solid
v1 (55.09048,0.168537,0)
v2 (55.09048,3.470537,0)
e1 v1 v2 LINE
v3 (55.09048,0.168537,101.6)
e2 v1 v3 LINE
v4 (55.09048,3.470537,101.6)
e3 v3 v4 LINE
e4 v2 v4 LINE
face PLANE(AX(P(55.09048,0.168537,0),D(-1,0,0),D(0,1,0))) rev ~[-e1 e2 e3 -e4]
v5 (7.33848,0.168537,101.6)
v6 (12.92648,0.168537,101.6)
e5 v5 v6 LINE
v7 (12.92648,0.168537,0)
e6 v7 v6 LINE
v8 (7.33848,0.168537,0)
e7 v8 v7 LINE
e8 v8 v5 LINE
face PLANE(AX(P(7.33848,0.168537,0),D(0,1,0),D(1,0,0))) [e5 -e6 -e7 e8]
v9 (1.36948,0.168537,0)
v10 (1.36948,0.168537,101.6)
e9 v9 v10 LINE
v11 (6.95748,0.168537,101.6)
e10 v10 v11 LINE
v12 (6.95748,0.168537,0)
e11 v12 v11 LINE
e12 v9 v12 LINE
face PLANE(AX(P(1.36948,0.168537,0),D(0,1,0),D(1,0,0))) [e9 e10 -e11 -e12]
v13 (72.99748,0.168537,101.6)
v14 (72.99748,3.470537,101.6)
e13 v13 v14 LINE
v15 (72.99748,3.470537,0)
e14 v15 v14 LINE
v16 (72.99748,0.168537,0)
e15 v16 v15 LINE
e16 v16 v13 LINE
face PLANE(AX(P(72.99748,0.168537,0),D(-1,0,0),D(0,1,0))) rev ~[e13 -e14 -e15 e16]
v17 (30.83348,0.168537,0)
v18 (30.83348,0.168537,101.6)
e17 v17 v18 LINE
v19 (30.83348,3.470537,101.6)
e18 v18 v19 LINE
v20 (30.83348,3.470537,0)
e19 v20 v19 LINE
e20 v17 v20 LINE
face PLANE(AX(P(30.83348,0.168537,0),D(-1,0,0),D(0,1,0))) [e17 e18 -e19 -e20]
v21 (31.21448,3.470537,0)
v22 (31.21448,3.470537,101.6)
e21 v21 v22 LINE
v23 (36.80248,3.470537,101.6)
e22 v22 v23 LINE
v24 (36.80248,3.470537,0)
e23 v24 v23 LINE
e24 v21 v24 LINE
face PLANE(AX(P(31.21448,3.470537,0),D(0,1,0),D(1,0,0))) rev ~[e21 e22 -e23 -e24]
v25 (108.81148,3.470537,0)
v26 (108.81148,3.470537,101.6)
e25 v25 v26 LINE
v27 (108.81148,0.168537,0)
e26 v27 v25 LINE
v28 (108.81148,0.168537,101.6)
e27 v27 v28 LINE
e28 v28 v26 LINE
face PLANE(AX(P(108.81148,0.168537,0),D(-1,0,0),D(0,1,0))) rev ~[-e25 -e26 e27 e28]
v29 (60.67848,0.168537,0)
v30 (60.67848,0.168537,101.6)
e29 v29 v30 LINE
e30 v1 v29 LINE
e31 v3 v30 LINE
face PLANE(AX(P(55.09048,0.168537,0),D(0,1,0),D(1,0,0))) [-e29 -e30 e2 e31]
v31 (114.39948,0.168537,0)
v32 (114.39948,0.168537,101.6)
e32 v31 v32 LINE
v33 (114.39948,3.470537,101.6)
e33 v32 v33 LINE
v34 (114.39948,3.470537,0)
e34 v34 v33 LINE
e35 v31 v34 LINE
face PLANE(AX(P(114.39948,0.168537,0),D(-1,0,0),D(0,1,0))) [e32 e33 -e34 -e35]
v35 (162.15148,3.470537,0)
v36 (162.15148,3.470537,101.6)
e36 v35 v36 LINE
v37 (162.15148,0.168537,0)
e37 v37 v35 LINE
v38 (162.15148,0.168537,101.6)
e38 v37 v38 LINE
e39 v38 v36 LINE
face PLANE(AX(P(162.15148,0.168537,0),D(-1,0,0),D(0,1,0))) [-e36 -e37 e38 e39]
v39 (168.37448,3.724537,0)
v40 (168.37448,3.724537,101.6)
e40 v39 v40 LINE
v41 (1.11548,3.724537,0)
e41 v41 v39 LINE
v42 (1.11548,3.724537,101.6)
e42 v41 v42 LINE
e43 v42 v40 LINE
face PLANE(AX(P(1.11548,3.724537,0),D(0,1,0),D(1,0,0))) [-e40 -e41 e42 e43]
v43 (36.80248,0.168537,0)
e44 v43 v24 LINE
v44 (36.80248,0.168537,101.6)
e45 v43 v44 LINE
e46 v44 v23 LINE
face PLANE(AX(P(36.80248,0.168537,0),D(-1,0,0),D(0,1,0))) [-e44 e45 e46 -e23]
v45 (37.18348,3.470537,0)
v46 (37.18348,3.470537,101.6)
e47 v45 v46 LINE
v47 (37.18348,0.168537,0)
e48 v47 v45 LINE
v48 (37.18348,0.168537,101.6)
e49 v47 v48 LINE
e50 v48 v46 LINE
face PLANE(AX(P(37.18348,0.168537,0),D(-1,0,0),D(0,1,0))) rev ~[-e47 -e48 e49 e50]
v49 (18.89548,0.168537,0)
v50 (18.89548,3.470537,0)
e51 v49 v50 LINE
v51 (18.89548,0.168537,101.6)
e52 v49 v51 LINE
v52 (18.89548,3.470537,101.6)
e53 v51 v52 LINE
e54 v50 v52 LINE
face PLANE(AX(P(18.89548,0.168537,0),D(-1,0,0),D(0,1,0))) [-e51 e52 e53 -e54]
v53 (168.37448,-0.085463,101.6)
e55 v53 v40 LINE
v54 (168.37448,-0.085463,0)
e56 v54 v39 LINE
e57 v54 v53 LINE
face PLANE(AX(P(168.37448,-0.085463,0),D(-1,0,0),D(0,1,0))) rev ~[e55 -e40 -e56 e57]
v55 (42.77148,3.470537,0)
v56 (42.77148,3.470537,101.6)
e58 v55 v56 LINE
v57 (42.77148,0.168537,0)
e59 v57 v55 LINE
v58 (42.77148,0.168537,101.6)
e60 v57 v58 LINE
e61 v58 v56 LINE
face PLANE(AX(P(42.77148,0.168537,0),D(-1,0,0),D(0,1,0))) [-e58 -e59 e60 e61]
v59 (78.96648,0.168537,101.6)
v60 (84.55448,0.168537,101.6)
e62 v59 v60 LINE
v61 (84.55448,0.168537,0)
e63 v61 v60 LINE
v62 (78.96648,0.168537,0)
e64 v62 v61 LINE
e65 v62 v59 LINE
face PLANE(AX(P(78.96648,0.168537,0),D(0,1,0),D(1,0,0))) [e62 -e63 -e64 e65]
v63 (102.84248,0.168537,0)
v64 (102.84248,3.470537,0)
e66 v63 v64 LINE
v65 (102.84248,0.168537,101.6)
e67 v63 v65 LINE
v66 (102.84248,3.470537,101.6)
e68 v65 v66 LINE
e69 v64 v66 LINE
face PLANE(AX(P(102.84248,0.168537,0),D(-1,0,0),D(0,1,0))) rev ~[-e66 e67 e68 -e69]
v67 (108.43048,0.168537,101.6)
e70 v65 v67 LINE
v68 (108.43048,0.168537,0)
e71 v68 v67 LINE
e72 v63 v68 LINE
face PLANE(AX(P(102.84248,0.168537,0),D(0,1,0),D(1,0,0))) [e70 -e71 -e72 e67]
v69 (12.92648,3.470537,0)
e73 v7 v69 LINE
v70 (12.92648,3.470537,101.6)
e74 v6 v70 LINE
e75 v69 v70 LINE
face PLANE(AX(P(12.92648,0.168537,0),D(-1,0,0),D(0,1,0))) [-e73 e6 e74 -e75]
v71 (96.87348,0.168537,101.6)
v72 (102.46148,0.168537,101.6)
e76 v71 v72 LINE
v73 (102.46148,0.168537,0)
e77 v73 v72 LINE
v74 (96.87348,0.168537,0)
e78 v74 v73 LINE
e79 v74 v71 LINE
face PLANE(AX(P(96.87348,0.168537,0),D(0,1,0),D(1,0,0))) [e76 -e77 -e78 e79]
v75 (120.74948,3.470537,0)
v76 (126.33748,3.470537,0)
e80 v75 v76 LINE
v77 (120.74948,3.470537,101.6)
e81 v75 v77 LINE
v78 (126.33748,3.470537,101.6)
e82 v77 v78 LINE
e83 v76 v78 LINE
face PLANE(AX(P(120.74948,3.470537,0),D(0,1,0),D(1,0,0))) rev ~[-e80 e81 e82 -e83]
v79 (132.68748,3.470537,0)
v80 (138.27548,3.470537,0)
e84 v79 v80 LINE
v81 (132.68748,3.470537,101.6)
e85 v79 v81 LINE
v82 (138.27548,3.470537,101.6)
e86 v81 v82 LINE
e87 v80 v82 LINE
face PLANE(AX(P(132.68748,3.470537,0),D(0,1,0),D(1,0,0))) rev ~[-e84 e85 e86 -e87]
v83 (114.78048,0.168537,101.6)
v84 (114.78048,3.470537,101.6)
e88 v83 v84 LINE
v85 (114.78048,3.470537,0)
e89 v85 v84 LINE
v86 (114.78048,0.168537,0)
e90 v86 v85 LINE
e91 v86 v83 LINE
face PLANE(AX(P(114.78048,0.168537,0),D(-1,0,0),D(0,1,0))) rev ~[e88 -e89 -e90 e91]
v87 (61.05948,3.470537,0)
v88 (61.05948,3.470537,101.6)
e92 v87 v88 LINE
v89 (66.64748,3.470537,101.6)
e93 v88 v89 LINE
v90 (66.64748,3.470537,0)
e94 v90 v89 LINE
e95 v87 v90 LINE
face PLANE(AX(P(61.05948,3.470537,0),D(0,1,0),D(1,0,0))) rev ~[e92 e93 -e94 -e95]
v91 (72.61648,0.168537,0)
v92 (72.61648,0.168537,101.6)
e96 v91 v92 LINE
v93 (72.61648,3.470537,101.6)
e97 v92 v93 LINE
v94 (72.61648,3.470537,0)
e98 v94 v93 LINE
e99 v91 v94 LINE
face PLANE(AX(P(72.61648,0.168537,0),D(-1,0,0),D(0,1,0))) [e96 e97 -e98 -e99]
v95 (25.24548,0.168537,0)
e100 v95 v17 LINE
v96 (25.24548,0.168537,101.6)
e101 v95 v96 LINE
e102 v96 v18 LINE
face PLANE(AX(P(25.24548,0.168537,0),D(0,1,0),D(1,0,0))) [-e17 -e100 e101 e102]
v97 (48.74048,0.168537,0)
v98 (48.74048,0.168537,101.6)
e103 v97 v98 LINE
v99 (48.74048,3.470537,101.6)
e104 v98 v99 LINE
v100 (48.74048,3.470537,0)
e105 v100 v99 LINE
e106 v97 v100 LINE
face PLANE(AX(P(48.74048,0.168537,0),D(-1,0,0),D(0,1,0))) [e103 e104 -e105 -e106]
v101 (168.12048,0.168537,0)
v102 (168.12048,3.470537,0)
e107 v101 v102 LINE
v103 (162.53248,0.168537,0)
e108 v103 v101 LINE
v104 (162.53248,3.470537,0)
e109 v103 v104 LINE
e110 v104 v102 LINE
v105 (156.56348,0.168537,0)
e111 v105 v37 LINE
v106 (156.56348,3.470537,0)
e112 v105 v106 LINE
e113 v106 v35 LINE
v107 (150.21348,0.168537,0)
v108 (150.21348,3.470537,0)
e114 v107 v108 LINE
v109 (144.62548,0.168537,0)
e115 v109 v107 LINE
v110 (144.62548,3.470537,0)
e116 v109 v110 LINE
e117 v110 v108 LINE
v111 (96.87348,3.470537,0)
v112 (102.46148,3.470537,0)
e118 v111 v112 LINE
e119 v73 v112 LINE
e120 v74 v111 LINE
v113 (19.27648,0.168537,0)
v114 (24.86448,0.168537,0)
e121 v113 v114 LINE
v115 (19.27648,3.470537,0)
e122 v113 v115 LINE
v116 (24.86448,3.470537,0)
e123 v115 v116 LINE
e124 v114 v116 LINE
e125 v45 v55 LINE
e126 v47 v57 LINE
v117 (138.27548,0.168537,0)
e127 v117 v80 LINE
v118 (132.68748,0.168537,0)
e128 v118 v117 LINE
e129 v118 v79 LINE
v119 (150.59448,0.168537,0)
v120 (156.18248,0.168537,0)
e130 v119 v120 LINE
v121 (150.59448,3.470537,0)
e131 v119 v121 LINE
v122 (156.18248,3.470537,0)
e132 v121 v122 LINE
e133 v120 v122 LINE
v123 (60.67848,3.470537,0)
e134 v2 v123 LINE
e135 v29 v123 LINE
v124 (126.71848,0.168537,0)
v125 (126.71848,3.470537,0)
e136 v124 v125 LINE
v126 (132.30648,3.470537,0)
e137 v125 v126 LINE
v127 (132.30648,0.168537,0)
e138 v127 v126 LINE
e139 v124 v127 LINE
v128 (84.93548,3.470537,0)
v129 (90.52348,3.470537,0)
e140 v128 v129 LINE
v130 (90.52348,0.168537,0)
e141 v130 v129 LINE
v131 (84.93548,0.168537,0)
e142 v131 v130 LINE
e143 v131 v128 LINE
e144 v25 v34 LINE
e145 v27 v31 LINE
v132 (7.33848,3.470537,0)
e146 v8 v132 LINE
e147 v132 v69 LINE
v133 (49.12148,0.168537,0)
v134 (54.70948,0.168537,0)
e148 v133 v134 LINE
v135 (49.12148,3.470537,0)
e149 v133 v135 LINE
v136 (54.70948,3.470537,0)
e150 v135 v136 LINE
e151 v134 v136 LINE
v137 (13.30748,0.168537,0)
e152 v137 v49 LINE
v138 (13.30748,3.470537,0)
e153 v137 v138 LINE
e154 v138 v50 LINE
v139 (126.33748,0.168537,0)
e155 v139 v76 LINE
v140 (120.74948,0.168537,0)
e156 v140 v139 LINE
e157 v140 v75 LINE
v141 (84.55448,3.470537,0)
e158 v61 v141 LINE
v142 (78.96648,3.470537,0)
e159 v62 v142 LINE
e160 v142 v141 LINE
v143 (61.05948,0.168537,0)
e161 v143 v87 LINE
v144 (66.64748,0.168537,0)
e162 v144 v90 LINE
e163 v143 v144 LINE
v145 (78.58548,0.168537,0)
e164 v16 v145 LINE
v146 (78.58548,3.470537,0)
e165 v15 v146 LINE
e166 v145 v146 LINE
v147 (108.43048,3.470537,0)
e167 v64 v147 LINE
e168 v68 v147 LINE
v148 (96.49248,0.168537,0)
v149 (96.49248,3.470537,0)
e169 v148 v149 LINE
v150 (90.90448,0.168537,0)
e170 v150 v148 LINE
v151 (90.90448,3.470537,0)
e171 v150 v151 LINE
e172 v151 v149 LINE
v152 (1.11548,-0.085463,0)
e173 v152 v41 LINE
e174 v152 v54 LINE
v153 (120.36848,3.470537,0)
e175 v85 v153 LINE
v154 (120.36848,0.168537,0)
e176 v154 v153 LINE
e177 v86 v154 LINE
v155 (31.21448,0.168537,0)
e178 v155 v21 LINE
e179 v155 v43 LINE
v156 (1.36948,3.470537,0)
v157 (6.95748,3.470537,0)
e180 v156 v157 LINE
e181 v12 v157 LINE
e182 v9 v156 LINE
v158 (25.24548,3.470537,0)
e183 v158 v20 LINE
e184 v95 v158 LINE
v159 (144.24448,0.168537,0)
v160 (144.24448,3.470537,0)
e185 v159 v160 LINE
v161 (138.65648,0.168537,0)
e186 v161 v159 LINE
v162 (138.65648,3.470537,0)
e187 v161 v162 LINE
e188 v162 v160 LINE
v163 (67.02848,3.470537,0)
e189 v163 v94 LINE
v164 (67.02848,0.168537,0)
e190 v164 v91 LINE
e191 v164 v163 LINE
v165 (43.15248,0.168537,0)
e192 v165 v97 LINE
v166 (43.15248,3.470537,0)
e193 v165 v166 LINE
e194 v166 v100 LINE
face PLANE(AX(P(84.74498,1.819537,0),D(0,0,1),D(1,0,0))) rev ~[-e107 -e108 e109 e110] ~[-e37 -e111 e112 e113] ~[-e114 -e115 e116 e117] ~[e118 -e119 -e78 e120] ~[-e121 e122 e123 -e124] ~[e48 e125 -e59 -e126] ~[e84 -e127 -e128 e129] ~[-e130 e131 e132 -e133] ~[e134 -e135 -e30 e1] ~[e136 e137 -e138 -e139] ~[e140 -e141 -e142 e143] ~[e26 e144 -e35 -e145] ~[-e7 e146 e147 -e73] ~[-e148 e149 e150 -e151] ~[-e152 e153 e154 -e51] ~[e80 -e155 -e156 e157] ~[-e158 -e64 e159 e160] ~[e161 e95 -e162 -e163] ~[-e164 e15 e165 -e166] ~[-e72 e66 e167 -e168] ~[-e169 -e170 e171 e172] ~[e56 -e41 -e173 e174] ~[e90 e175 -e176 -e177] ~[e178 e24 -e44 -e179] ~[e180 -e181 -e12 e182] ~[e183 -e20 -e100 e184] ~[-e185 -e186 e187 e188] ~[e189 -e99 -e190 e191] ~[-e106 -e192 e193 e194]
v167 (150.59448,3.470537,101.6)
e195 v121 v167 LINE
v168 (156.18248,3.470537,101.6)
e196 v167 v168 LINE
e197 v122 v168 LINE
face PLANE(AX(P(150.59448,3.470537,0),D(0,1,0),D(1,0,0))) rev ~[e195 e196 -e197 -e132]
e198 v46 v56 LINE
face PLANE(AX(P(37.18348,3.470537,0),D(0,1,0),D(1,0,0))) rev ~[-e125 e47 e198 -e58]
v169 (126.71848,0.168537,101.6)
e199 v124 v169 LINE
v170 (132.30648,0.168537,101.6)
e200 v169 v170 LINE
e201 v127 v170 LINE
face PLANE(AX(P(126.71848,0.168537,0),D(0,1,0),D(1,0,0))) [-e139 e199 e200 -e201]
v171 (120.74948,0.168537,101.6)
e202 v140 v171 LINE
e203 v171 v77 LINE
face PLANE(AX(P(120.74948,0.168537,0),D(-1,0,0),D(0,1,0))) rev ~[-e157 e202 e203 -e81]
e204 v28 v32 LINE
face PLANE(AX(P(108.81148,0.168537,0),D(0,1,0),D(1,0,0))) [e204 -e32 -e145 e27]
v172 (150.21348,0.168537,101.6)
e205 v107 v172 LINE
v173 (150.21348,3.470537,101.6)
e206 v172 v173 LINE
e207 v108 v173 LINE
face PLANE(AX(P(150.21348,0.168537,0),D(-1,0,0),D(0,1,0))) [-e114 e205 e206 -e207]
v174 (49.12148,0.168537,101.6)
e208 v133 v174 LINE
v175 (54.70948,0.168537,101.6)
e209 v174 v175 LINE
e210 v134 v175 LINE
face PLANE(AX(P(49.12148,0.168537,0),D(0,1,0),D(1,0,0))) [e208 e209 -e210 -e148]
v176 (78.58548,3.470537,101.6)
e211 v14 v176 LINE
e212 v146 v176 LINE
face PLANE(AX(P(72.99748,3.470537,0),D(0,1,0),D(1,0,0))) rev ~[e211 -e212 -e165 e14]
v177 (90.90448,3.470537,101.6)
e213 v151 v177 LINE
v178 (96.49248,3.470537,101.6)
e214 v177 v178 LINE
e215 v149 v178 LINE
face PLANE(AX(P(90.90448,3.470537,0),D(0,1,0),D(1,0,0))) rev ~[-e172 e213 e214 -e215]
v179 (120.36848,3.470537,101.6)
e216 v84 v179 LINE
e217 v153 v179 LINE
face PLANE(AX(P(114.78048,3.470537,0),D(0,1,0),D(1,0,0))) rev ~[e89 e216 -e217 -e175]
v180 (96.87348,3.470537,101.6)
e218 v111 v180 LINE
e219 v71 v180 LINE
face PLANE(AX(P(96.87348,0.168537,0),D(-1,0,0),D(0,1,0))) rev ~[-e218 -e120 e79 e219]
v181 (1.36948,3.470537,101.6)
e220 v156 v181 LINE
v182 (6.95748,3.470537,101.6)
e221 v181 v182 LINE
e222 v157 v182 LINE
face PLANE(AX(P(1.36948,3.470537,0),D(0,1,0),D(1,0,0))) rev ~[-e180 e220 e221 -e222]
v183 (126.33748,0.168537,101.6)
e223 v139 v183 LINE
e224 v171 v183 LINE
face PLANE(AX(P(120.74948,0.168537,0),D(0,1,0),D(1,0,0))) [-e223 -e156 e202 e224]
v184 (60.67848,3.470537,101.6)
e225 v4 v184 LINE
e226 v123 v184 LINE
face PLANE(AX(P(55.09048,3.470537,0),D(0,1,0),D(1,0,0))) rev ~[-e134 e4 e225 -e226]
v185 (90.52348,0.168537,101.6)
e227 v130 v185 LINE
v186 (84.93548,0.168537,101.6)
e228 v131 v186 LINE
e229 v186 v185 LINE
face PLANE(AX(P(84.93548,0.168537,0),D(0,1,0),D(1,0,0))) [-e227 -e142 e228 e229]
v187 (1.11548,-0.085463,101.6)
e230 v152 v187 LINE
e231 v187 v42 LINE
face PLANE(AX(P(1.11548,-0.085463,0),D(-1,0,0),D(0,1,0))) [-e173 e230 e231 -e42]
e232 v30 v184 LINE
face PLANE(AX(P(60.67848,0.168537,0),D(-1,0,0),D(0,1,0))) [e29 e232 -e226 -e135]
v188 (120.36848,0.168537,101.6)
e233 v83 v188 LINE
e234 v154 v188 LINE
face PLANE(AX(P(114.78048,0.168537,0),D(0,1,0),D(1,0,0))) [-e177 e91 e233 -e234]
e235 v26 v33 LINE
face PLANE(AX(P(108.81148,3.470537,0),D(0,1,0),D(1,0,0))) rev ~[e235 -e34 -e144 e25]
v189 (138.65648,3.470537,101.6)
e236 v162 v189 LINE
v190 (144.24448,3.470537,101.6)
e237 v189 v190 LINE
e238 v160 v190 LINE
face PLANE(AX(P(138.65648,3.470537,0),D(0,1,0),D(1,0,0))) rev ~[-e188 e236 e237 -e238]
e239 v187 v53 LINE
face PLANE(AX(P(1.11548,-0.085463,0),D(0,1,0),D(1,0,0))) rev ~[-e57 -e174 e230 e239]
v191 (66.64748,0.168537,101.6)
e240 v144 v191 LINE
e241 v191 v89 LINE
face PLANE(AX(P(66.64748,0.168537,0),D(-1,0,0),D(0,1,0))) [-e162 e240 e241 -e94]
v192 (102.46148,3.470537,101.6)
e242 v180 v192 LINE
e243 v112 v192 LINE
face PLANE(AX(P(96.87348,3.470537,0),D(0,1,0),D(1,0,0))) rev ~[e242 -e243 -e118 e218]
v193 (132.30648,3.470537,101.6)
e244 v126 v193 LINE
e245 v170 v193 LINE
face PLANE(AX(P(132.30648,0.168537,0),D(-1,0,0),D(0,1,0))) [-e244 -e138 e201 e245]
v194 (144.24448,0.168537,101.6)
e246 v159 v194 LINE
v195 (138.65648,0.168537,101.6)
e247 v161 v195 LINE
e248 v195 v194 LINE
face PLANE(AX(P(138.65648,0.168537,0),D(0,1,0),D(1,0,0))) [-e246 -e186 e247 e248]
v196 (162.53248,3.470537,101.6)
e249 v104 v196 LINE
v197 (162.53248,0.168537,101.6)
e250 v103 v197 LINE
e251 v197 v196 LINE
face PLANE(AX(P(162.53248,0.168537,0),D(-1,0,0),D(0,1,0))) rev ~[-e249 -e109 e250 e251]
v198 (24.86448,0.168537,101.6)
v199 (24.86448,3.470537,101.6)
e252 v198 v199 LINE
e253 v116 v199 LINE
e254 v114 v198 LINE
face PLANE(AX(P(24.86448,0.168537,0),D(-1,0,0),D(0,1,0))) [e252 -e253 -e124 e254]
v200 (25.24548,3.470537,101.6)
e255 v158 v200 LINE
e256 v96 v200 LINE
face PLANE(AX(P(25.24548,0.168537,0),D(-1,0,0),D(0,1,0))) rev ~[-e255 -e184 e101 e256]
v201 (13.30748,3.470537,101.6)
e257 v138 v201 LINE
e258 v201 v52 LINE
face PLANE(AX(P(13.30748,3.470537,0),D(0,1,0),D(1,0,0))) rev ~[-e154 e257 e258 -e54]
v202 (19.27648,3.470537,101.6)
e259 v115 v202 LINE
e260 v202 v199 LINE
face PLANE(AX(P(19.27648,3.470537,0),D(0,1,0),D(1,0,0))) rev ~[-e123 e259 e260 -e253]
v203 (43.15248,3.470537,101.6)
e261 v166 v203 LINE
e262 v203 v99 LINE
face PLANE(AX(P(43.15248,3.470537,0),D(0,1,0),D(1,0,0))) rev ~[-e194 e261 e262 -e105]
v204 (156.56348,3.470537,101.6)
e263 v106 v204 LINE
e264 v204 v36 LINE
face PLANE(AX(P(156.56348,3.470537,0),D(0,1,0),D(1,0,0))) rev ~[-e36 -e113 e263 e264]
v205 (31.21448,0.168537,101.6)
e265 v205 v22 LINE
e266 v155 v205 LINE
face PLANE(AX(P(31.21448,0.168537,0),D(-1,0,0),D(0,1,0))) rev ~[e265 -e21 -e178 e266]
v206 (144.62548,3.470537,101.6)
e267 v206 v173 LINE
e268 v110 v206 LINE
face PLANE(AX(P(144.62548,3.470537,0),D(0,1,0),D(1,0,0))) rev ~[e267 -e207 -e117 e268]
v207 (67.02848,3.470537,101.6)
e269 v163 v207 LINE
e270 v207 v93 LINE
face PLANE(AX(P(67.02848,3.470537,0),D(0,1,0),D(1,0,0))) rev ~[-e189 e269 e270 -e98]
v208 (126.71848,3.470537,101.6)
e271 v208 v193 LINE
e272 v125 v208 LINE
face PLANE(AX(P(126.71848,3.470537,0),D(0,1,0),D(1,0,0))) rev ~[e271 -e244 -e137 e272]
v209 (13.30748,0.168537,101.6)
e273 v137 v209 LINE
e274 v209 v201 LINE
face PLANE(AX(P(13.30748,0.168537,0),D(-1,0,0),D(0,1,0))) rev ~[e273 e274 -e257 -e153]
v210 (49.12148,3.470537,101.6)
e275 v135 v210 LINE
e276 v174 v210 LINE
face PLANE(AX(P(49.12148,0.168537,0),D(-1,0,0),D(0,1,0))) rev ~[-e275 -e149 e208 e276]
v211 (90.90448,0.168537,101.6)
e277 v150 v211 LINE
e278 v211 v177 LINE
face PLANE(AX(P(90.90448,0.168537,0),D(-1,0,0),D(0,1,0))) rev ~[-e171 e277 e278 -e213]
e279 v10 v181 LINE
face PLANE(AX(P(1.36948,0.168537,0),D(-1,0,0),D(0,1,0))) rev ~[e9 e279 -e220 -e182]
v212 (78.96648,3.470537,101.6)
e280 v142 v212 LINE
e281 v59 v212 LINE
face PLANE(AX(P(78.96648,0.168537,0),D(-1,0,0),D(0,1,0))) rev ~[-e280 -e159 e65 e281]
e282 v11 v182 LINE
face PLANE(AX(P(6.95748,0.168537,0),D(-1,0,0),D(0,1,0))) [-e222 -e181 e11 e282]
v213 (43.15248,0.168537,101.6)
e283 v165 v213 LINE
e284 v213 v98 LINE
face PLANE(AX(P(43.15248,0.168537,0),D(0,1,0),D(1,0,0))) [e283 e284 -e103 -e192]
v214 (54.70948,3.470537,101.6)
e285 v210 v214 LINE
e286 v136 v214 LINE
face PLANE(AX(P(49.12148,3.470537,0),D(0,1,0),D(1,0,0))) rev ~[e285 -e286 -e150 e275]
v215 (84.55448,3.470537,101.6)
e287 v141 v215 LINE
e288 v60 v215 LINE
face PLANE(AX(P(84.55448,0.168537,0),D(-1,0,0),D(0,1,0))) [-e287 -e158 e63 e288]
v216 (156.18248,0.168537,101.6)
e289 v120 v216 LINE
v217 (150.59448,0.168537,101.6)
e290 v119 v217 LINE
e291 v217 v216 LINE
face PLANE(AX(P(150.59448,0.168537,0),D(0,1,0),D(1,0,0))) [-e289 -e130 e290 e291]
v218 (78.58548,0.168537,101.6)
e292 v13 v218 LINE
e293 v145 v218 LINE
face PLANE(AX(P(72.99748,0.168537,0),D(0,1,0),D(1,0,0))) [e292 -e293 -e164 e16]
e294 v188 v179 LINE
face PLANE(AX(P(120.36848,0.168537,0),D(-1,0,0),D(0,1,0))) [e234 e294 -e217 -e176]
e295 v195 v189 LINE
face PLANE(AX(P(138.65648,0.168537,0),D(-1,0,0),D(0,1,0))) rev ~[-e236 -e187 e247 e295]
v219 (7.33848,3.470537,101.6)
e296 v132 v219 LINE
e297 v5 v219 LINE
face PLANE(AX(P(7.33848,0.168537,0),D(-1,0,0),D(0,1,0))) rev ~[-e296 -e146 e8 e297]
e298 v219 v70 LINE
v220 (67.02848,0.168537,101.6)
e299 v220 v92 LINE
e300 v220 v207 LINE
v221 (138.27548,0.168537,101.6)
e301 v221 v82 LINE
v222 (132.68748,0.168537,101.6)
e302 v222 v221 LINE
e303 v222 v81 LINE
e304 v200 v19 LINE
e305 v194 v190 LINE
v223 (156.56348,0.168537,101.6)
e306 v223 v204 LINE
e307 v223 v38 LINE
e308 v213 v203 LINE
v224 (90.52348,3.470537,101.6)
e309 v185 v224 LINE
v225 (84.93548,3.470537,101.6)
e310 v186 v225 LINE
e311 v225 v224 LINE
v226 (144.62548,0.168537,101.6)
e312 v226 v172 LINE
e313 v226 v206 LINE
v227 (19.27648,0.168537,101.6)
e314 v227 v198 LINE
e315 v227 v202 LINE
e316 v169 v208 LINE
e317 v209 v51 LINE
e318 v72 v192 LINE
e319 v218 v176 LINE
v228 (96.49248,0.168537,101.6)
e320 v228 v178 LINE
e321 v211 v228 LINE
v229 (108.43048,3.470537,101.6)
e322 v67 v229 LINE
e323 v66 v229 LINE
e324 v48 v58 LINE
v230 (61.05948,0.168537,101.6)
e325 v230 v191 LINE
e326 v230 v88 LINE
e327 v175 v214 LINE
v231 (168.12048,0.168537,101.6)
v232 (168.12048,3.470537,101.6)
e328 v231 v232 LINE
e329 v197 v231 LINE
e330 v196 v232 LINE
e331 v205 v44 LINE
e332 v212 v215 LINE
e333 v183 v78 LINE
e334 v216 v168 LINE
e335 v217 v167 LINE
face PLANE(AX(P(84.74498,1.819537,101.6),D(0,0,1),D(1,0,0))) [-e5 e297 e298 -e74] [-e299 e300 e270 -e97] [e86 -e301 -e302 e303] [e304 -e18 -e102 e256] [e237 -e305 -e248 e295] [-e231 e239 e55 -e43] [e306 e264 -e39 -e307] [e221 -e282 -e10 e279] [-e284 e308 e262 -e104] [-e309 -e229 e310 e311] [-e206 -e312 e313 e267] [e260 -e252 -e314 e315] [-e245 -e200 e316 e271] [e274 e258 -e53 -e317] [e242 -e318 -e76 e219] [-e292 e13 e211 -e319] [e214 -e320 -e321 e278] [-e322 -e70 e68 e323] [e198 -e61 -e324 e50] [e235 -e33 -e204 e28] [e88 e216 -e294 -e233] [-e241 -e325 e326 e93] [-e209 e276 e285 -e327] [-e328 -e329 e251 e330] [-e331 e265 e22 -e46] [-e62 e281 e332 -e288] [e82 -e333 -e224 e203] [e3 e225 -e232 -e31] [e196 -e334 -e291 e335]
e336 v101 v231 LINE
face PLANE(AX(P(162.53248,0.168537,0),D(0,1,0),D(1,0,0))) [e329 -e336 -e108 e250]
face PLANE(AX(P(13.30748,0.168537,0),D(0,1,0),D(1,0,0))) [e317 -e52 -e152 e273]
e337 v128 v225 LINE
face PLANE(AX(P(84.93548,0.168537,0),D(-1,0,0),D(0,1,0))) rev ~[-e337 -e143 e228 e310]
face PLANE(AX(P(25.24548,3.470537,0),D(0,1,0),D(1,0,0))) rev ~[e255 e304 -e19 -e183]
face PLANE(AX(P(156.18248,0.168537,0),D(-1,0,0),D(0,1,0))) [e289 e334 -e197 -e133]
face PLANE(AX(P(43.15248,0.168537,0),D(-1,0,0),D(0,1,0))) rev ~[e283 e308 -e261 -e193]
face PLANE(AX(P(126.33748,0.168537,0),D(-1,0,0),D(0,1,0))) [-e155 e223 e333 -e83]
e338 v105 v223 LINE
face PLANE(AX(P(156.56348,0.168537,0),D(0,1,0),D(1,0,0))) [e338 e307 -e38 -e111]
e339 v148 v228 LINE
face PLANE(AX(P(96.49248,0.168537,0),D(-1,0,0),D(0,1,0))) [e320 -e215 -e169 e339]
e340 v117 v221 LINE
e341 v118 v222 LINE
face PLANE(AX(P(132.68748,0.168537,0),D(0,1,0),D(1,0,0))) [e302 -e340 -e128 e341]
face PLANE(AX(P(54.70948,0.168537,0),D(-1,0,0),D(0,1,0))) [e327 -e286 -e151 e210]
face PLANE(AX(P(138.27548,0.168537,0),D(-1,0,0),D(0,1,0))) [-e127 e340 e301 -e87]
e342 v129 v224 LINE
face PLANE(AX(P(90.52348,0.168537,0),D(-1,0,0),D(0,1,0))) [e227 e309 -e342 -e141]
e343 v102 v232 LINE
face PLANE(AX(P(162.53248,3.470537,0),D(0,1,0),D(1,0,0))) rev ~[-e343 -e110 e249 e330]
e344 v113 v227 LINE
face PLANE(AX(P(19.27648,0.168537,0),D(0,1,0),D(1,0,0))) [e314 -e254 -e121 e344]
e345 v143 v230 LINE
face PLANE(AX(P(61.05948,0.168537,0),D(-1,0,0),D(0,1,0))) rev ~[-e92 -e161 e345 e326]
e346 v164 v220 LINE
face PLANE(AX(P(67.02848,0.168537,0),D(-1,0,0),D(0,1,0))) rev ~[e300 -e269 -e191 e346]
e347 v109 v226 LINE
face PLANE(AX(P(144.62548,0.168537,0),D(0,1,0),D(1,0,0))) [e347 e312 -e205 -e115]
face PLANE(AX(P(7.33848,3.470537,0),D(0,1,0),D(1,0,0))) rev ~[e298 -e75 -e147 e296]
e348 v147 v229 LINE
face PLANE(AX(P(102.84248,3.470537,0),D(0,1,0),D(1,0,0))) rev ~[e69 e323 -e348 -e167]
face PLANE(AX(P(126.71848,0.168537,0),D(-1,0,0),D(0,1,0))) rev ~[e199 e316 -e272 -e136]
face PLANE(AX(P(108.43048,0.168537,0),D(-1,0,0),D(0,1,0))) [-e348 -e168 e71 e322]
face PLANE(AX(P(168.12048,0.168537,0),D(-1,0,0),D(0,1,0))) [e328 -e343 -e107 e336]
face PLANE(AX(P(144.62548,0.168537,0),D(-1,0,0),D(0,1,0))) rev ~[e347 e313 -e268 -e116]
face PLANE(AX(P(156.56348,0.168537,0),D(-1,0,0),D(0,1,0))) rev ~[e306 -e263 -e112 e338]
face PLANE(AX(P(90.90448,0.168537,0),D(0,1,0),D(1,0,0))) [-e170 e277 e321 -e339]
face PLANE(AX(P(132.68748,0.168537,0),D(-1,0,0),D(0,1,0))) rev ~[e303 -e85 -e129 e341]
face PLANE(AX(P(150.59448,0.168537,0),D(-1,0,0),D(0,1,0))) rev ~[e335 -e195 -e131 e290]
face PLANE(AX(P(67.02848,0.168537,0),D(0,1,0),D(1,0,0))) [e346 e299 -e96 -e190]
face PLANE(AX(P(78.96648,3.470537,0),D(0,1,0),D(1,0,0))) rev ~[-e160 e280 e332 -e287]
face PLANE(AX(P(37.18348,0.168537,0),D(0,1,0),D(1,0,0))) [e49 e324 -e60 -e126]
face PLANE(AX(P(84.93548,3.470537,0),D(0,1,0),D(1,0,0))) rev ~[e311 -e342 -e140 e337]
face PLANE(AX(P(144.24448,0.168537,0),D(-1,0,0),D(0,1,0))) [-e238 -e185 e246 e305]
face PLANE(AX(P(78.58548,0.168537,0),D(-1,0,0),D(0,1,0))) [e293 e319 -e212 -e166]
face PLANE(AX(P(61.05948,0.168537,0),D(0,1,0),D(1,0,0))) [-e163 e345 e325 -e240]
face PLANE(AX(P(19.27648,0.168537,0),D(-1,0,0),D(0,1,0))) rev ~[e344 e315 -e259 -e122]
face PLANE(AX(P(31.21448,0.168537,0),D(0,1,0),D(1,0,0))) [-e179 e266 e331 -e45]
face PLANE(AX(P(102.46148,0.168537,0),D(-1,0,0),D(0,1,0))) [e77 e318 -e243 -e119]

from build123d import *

# Parameters (mm, degrees)
F0_W     = 167.259
F0_H     = 3.81
F0_W_2   = 5.588
F0_H_2   = 3.302
F1_DEPTH = 101.6


with BuildPart() as f1:
    # F0 (on Top) → F1 (new body)
    with BuildSketch(Plane.XY):
        with Locations((84.74498, 1.819537)):
            Rectangle(F0_W, F0_H)
        with Locations((4.16348, 1.819537)):
            Rectangle(F0_W_2, F0_H_2, mode=Mode.SUBTRACT)
        with Locations((10.13248, 1.819537)):
            Rectangle(F0_W_2, F0_H_2, mode=Mode.SUBTRACT)
        with Locations((16.10148, 1.819537)):
            Rectangle(F0_W_2, F0_H_2, mode=Mode.SUBTRACT)
        with Locations((22.07048, 1.819537)):
            Rectangle(F0_W_2, F0_H_2, mode=Mode.SUBTRACT)
        with Locations((28.03948, 1.819537)):
            Rectangle(F0_W_2, F0_H_2, mode=Mode.SUBTRACT)
        with Locations((34.00848, 1.819537)):
            Rectangle(F0_W_2, F0_H_2, mode=Mode.SUBTRACT)
        with Locations((39.97748, 1.819537)):
            Rectangle(F0_W_2, F0_H_2, mode=Mode.SUBTRACT)
        with Locations((45.94648, 1.819537)):
            Rectangle(F0_W_2, F0_H_2, mode=Mode.SUBTRACT)
        with Locations((51.91548, 1.819537)):
            Rectangle(F0_W_2, F0_H_2, mode=Mode.SUBTRACT)
        with Locations((57.88448, 1.819537)):
            Rectangle(F0_W_2, F0_H_2, mode=Mode.SUBTRACT)
        with Locations((63.85348, 1.819537)):
            Rectangle(F0_W_2, F0_H_2, mode=Mode.SUBTRACT)
        with Locations((69.82248, 1.819537)):
            Rectangle(F0_W_2, F0_H_2, mode=Mode.SUBTRACT)
        with Locations((75.79148, 1.819537)):
            Rectangle(F0_W_2, F0_H_2, mode=Mode.SUBTRACT)
        with Locations((81.76048, 1.819537)):
            Rectangle(F0_W_2, F0_H_2, mode=Mode.SUBTRACT)
        with Locations((87.72948, 1.819537)):
            Rectangle(F0_W_2, F0_H_2, mode=Mode.SUBTRACT)
        with Locations((93.69848, 1.819537)):
            Rectangle(F0_W_2, F0_H_2, mode=Mode.SUBTRACT)
        with Locations((99.66748, 1.819537)):
            Rectangle(F0_W_2, F0_H_2, mode=Mode.SUBTRACT)
        with Locations((105.63648, 1.819537)):
            Rectangle(F0_W_2, F0_H_2, mode=Mode.SUBTRACT)
        with Locations((111.60548, 1.819537)):
            Rectangle(F0_W_2, F0_H_2, mode=Mode.SUBTRACT)
        with Locations((117.57448, 1.819537)):
            Rectangle(F0_W_2, F0_H_2, mode=Mode.SUBTRACT)
        with Locations((123.54348, 1.819537)):
            Rectangle(F0_W_2, F0_H_2, mode=Mode.SUBTRACT)
        with Locations((129.51248, 1.819537)):
            Rectangle(F0_W_2, F0_H_2, mode=Mode.SUBTRACT)
        with Locations((135.48148, 1.819537)):
            Rectangle(F0_W_2, F0_H_2, mode=Mode.SUBTRACT)
        with Locations((141.45048, 1.819537)):
            Rectangle(F0_W_2, F0_H_2, mode=Mode.SUBTRACT)
        with Locations((147.41948, 1.819537)):
            Rectangle(F0_W_2, F0_H_2, mode=Mode.SUBTRACT)
        with Locations((153.38848, 1.819537)):
            Rectangle(F0_W_2, F0_H_2, mode=Mode.SUBTRACT)
        with Locations((159.35748, 1.819537)):
            Rectangle(F0_W_2, F0_H_2, mode=Mode.SUBTRACT)
        with Locations((165.32648, 1.819537)):
            Rectangle(F0_W_2, F0_H_2, mode=Mode.SUBTRACT)
    extrude(amount=F1_DEPTH)


solid = f1.part
